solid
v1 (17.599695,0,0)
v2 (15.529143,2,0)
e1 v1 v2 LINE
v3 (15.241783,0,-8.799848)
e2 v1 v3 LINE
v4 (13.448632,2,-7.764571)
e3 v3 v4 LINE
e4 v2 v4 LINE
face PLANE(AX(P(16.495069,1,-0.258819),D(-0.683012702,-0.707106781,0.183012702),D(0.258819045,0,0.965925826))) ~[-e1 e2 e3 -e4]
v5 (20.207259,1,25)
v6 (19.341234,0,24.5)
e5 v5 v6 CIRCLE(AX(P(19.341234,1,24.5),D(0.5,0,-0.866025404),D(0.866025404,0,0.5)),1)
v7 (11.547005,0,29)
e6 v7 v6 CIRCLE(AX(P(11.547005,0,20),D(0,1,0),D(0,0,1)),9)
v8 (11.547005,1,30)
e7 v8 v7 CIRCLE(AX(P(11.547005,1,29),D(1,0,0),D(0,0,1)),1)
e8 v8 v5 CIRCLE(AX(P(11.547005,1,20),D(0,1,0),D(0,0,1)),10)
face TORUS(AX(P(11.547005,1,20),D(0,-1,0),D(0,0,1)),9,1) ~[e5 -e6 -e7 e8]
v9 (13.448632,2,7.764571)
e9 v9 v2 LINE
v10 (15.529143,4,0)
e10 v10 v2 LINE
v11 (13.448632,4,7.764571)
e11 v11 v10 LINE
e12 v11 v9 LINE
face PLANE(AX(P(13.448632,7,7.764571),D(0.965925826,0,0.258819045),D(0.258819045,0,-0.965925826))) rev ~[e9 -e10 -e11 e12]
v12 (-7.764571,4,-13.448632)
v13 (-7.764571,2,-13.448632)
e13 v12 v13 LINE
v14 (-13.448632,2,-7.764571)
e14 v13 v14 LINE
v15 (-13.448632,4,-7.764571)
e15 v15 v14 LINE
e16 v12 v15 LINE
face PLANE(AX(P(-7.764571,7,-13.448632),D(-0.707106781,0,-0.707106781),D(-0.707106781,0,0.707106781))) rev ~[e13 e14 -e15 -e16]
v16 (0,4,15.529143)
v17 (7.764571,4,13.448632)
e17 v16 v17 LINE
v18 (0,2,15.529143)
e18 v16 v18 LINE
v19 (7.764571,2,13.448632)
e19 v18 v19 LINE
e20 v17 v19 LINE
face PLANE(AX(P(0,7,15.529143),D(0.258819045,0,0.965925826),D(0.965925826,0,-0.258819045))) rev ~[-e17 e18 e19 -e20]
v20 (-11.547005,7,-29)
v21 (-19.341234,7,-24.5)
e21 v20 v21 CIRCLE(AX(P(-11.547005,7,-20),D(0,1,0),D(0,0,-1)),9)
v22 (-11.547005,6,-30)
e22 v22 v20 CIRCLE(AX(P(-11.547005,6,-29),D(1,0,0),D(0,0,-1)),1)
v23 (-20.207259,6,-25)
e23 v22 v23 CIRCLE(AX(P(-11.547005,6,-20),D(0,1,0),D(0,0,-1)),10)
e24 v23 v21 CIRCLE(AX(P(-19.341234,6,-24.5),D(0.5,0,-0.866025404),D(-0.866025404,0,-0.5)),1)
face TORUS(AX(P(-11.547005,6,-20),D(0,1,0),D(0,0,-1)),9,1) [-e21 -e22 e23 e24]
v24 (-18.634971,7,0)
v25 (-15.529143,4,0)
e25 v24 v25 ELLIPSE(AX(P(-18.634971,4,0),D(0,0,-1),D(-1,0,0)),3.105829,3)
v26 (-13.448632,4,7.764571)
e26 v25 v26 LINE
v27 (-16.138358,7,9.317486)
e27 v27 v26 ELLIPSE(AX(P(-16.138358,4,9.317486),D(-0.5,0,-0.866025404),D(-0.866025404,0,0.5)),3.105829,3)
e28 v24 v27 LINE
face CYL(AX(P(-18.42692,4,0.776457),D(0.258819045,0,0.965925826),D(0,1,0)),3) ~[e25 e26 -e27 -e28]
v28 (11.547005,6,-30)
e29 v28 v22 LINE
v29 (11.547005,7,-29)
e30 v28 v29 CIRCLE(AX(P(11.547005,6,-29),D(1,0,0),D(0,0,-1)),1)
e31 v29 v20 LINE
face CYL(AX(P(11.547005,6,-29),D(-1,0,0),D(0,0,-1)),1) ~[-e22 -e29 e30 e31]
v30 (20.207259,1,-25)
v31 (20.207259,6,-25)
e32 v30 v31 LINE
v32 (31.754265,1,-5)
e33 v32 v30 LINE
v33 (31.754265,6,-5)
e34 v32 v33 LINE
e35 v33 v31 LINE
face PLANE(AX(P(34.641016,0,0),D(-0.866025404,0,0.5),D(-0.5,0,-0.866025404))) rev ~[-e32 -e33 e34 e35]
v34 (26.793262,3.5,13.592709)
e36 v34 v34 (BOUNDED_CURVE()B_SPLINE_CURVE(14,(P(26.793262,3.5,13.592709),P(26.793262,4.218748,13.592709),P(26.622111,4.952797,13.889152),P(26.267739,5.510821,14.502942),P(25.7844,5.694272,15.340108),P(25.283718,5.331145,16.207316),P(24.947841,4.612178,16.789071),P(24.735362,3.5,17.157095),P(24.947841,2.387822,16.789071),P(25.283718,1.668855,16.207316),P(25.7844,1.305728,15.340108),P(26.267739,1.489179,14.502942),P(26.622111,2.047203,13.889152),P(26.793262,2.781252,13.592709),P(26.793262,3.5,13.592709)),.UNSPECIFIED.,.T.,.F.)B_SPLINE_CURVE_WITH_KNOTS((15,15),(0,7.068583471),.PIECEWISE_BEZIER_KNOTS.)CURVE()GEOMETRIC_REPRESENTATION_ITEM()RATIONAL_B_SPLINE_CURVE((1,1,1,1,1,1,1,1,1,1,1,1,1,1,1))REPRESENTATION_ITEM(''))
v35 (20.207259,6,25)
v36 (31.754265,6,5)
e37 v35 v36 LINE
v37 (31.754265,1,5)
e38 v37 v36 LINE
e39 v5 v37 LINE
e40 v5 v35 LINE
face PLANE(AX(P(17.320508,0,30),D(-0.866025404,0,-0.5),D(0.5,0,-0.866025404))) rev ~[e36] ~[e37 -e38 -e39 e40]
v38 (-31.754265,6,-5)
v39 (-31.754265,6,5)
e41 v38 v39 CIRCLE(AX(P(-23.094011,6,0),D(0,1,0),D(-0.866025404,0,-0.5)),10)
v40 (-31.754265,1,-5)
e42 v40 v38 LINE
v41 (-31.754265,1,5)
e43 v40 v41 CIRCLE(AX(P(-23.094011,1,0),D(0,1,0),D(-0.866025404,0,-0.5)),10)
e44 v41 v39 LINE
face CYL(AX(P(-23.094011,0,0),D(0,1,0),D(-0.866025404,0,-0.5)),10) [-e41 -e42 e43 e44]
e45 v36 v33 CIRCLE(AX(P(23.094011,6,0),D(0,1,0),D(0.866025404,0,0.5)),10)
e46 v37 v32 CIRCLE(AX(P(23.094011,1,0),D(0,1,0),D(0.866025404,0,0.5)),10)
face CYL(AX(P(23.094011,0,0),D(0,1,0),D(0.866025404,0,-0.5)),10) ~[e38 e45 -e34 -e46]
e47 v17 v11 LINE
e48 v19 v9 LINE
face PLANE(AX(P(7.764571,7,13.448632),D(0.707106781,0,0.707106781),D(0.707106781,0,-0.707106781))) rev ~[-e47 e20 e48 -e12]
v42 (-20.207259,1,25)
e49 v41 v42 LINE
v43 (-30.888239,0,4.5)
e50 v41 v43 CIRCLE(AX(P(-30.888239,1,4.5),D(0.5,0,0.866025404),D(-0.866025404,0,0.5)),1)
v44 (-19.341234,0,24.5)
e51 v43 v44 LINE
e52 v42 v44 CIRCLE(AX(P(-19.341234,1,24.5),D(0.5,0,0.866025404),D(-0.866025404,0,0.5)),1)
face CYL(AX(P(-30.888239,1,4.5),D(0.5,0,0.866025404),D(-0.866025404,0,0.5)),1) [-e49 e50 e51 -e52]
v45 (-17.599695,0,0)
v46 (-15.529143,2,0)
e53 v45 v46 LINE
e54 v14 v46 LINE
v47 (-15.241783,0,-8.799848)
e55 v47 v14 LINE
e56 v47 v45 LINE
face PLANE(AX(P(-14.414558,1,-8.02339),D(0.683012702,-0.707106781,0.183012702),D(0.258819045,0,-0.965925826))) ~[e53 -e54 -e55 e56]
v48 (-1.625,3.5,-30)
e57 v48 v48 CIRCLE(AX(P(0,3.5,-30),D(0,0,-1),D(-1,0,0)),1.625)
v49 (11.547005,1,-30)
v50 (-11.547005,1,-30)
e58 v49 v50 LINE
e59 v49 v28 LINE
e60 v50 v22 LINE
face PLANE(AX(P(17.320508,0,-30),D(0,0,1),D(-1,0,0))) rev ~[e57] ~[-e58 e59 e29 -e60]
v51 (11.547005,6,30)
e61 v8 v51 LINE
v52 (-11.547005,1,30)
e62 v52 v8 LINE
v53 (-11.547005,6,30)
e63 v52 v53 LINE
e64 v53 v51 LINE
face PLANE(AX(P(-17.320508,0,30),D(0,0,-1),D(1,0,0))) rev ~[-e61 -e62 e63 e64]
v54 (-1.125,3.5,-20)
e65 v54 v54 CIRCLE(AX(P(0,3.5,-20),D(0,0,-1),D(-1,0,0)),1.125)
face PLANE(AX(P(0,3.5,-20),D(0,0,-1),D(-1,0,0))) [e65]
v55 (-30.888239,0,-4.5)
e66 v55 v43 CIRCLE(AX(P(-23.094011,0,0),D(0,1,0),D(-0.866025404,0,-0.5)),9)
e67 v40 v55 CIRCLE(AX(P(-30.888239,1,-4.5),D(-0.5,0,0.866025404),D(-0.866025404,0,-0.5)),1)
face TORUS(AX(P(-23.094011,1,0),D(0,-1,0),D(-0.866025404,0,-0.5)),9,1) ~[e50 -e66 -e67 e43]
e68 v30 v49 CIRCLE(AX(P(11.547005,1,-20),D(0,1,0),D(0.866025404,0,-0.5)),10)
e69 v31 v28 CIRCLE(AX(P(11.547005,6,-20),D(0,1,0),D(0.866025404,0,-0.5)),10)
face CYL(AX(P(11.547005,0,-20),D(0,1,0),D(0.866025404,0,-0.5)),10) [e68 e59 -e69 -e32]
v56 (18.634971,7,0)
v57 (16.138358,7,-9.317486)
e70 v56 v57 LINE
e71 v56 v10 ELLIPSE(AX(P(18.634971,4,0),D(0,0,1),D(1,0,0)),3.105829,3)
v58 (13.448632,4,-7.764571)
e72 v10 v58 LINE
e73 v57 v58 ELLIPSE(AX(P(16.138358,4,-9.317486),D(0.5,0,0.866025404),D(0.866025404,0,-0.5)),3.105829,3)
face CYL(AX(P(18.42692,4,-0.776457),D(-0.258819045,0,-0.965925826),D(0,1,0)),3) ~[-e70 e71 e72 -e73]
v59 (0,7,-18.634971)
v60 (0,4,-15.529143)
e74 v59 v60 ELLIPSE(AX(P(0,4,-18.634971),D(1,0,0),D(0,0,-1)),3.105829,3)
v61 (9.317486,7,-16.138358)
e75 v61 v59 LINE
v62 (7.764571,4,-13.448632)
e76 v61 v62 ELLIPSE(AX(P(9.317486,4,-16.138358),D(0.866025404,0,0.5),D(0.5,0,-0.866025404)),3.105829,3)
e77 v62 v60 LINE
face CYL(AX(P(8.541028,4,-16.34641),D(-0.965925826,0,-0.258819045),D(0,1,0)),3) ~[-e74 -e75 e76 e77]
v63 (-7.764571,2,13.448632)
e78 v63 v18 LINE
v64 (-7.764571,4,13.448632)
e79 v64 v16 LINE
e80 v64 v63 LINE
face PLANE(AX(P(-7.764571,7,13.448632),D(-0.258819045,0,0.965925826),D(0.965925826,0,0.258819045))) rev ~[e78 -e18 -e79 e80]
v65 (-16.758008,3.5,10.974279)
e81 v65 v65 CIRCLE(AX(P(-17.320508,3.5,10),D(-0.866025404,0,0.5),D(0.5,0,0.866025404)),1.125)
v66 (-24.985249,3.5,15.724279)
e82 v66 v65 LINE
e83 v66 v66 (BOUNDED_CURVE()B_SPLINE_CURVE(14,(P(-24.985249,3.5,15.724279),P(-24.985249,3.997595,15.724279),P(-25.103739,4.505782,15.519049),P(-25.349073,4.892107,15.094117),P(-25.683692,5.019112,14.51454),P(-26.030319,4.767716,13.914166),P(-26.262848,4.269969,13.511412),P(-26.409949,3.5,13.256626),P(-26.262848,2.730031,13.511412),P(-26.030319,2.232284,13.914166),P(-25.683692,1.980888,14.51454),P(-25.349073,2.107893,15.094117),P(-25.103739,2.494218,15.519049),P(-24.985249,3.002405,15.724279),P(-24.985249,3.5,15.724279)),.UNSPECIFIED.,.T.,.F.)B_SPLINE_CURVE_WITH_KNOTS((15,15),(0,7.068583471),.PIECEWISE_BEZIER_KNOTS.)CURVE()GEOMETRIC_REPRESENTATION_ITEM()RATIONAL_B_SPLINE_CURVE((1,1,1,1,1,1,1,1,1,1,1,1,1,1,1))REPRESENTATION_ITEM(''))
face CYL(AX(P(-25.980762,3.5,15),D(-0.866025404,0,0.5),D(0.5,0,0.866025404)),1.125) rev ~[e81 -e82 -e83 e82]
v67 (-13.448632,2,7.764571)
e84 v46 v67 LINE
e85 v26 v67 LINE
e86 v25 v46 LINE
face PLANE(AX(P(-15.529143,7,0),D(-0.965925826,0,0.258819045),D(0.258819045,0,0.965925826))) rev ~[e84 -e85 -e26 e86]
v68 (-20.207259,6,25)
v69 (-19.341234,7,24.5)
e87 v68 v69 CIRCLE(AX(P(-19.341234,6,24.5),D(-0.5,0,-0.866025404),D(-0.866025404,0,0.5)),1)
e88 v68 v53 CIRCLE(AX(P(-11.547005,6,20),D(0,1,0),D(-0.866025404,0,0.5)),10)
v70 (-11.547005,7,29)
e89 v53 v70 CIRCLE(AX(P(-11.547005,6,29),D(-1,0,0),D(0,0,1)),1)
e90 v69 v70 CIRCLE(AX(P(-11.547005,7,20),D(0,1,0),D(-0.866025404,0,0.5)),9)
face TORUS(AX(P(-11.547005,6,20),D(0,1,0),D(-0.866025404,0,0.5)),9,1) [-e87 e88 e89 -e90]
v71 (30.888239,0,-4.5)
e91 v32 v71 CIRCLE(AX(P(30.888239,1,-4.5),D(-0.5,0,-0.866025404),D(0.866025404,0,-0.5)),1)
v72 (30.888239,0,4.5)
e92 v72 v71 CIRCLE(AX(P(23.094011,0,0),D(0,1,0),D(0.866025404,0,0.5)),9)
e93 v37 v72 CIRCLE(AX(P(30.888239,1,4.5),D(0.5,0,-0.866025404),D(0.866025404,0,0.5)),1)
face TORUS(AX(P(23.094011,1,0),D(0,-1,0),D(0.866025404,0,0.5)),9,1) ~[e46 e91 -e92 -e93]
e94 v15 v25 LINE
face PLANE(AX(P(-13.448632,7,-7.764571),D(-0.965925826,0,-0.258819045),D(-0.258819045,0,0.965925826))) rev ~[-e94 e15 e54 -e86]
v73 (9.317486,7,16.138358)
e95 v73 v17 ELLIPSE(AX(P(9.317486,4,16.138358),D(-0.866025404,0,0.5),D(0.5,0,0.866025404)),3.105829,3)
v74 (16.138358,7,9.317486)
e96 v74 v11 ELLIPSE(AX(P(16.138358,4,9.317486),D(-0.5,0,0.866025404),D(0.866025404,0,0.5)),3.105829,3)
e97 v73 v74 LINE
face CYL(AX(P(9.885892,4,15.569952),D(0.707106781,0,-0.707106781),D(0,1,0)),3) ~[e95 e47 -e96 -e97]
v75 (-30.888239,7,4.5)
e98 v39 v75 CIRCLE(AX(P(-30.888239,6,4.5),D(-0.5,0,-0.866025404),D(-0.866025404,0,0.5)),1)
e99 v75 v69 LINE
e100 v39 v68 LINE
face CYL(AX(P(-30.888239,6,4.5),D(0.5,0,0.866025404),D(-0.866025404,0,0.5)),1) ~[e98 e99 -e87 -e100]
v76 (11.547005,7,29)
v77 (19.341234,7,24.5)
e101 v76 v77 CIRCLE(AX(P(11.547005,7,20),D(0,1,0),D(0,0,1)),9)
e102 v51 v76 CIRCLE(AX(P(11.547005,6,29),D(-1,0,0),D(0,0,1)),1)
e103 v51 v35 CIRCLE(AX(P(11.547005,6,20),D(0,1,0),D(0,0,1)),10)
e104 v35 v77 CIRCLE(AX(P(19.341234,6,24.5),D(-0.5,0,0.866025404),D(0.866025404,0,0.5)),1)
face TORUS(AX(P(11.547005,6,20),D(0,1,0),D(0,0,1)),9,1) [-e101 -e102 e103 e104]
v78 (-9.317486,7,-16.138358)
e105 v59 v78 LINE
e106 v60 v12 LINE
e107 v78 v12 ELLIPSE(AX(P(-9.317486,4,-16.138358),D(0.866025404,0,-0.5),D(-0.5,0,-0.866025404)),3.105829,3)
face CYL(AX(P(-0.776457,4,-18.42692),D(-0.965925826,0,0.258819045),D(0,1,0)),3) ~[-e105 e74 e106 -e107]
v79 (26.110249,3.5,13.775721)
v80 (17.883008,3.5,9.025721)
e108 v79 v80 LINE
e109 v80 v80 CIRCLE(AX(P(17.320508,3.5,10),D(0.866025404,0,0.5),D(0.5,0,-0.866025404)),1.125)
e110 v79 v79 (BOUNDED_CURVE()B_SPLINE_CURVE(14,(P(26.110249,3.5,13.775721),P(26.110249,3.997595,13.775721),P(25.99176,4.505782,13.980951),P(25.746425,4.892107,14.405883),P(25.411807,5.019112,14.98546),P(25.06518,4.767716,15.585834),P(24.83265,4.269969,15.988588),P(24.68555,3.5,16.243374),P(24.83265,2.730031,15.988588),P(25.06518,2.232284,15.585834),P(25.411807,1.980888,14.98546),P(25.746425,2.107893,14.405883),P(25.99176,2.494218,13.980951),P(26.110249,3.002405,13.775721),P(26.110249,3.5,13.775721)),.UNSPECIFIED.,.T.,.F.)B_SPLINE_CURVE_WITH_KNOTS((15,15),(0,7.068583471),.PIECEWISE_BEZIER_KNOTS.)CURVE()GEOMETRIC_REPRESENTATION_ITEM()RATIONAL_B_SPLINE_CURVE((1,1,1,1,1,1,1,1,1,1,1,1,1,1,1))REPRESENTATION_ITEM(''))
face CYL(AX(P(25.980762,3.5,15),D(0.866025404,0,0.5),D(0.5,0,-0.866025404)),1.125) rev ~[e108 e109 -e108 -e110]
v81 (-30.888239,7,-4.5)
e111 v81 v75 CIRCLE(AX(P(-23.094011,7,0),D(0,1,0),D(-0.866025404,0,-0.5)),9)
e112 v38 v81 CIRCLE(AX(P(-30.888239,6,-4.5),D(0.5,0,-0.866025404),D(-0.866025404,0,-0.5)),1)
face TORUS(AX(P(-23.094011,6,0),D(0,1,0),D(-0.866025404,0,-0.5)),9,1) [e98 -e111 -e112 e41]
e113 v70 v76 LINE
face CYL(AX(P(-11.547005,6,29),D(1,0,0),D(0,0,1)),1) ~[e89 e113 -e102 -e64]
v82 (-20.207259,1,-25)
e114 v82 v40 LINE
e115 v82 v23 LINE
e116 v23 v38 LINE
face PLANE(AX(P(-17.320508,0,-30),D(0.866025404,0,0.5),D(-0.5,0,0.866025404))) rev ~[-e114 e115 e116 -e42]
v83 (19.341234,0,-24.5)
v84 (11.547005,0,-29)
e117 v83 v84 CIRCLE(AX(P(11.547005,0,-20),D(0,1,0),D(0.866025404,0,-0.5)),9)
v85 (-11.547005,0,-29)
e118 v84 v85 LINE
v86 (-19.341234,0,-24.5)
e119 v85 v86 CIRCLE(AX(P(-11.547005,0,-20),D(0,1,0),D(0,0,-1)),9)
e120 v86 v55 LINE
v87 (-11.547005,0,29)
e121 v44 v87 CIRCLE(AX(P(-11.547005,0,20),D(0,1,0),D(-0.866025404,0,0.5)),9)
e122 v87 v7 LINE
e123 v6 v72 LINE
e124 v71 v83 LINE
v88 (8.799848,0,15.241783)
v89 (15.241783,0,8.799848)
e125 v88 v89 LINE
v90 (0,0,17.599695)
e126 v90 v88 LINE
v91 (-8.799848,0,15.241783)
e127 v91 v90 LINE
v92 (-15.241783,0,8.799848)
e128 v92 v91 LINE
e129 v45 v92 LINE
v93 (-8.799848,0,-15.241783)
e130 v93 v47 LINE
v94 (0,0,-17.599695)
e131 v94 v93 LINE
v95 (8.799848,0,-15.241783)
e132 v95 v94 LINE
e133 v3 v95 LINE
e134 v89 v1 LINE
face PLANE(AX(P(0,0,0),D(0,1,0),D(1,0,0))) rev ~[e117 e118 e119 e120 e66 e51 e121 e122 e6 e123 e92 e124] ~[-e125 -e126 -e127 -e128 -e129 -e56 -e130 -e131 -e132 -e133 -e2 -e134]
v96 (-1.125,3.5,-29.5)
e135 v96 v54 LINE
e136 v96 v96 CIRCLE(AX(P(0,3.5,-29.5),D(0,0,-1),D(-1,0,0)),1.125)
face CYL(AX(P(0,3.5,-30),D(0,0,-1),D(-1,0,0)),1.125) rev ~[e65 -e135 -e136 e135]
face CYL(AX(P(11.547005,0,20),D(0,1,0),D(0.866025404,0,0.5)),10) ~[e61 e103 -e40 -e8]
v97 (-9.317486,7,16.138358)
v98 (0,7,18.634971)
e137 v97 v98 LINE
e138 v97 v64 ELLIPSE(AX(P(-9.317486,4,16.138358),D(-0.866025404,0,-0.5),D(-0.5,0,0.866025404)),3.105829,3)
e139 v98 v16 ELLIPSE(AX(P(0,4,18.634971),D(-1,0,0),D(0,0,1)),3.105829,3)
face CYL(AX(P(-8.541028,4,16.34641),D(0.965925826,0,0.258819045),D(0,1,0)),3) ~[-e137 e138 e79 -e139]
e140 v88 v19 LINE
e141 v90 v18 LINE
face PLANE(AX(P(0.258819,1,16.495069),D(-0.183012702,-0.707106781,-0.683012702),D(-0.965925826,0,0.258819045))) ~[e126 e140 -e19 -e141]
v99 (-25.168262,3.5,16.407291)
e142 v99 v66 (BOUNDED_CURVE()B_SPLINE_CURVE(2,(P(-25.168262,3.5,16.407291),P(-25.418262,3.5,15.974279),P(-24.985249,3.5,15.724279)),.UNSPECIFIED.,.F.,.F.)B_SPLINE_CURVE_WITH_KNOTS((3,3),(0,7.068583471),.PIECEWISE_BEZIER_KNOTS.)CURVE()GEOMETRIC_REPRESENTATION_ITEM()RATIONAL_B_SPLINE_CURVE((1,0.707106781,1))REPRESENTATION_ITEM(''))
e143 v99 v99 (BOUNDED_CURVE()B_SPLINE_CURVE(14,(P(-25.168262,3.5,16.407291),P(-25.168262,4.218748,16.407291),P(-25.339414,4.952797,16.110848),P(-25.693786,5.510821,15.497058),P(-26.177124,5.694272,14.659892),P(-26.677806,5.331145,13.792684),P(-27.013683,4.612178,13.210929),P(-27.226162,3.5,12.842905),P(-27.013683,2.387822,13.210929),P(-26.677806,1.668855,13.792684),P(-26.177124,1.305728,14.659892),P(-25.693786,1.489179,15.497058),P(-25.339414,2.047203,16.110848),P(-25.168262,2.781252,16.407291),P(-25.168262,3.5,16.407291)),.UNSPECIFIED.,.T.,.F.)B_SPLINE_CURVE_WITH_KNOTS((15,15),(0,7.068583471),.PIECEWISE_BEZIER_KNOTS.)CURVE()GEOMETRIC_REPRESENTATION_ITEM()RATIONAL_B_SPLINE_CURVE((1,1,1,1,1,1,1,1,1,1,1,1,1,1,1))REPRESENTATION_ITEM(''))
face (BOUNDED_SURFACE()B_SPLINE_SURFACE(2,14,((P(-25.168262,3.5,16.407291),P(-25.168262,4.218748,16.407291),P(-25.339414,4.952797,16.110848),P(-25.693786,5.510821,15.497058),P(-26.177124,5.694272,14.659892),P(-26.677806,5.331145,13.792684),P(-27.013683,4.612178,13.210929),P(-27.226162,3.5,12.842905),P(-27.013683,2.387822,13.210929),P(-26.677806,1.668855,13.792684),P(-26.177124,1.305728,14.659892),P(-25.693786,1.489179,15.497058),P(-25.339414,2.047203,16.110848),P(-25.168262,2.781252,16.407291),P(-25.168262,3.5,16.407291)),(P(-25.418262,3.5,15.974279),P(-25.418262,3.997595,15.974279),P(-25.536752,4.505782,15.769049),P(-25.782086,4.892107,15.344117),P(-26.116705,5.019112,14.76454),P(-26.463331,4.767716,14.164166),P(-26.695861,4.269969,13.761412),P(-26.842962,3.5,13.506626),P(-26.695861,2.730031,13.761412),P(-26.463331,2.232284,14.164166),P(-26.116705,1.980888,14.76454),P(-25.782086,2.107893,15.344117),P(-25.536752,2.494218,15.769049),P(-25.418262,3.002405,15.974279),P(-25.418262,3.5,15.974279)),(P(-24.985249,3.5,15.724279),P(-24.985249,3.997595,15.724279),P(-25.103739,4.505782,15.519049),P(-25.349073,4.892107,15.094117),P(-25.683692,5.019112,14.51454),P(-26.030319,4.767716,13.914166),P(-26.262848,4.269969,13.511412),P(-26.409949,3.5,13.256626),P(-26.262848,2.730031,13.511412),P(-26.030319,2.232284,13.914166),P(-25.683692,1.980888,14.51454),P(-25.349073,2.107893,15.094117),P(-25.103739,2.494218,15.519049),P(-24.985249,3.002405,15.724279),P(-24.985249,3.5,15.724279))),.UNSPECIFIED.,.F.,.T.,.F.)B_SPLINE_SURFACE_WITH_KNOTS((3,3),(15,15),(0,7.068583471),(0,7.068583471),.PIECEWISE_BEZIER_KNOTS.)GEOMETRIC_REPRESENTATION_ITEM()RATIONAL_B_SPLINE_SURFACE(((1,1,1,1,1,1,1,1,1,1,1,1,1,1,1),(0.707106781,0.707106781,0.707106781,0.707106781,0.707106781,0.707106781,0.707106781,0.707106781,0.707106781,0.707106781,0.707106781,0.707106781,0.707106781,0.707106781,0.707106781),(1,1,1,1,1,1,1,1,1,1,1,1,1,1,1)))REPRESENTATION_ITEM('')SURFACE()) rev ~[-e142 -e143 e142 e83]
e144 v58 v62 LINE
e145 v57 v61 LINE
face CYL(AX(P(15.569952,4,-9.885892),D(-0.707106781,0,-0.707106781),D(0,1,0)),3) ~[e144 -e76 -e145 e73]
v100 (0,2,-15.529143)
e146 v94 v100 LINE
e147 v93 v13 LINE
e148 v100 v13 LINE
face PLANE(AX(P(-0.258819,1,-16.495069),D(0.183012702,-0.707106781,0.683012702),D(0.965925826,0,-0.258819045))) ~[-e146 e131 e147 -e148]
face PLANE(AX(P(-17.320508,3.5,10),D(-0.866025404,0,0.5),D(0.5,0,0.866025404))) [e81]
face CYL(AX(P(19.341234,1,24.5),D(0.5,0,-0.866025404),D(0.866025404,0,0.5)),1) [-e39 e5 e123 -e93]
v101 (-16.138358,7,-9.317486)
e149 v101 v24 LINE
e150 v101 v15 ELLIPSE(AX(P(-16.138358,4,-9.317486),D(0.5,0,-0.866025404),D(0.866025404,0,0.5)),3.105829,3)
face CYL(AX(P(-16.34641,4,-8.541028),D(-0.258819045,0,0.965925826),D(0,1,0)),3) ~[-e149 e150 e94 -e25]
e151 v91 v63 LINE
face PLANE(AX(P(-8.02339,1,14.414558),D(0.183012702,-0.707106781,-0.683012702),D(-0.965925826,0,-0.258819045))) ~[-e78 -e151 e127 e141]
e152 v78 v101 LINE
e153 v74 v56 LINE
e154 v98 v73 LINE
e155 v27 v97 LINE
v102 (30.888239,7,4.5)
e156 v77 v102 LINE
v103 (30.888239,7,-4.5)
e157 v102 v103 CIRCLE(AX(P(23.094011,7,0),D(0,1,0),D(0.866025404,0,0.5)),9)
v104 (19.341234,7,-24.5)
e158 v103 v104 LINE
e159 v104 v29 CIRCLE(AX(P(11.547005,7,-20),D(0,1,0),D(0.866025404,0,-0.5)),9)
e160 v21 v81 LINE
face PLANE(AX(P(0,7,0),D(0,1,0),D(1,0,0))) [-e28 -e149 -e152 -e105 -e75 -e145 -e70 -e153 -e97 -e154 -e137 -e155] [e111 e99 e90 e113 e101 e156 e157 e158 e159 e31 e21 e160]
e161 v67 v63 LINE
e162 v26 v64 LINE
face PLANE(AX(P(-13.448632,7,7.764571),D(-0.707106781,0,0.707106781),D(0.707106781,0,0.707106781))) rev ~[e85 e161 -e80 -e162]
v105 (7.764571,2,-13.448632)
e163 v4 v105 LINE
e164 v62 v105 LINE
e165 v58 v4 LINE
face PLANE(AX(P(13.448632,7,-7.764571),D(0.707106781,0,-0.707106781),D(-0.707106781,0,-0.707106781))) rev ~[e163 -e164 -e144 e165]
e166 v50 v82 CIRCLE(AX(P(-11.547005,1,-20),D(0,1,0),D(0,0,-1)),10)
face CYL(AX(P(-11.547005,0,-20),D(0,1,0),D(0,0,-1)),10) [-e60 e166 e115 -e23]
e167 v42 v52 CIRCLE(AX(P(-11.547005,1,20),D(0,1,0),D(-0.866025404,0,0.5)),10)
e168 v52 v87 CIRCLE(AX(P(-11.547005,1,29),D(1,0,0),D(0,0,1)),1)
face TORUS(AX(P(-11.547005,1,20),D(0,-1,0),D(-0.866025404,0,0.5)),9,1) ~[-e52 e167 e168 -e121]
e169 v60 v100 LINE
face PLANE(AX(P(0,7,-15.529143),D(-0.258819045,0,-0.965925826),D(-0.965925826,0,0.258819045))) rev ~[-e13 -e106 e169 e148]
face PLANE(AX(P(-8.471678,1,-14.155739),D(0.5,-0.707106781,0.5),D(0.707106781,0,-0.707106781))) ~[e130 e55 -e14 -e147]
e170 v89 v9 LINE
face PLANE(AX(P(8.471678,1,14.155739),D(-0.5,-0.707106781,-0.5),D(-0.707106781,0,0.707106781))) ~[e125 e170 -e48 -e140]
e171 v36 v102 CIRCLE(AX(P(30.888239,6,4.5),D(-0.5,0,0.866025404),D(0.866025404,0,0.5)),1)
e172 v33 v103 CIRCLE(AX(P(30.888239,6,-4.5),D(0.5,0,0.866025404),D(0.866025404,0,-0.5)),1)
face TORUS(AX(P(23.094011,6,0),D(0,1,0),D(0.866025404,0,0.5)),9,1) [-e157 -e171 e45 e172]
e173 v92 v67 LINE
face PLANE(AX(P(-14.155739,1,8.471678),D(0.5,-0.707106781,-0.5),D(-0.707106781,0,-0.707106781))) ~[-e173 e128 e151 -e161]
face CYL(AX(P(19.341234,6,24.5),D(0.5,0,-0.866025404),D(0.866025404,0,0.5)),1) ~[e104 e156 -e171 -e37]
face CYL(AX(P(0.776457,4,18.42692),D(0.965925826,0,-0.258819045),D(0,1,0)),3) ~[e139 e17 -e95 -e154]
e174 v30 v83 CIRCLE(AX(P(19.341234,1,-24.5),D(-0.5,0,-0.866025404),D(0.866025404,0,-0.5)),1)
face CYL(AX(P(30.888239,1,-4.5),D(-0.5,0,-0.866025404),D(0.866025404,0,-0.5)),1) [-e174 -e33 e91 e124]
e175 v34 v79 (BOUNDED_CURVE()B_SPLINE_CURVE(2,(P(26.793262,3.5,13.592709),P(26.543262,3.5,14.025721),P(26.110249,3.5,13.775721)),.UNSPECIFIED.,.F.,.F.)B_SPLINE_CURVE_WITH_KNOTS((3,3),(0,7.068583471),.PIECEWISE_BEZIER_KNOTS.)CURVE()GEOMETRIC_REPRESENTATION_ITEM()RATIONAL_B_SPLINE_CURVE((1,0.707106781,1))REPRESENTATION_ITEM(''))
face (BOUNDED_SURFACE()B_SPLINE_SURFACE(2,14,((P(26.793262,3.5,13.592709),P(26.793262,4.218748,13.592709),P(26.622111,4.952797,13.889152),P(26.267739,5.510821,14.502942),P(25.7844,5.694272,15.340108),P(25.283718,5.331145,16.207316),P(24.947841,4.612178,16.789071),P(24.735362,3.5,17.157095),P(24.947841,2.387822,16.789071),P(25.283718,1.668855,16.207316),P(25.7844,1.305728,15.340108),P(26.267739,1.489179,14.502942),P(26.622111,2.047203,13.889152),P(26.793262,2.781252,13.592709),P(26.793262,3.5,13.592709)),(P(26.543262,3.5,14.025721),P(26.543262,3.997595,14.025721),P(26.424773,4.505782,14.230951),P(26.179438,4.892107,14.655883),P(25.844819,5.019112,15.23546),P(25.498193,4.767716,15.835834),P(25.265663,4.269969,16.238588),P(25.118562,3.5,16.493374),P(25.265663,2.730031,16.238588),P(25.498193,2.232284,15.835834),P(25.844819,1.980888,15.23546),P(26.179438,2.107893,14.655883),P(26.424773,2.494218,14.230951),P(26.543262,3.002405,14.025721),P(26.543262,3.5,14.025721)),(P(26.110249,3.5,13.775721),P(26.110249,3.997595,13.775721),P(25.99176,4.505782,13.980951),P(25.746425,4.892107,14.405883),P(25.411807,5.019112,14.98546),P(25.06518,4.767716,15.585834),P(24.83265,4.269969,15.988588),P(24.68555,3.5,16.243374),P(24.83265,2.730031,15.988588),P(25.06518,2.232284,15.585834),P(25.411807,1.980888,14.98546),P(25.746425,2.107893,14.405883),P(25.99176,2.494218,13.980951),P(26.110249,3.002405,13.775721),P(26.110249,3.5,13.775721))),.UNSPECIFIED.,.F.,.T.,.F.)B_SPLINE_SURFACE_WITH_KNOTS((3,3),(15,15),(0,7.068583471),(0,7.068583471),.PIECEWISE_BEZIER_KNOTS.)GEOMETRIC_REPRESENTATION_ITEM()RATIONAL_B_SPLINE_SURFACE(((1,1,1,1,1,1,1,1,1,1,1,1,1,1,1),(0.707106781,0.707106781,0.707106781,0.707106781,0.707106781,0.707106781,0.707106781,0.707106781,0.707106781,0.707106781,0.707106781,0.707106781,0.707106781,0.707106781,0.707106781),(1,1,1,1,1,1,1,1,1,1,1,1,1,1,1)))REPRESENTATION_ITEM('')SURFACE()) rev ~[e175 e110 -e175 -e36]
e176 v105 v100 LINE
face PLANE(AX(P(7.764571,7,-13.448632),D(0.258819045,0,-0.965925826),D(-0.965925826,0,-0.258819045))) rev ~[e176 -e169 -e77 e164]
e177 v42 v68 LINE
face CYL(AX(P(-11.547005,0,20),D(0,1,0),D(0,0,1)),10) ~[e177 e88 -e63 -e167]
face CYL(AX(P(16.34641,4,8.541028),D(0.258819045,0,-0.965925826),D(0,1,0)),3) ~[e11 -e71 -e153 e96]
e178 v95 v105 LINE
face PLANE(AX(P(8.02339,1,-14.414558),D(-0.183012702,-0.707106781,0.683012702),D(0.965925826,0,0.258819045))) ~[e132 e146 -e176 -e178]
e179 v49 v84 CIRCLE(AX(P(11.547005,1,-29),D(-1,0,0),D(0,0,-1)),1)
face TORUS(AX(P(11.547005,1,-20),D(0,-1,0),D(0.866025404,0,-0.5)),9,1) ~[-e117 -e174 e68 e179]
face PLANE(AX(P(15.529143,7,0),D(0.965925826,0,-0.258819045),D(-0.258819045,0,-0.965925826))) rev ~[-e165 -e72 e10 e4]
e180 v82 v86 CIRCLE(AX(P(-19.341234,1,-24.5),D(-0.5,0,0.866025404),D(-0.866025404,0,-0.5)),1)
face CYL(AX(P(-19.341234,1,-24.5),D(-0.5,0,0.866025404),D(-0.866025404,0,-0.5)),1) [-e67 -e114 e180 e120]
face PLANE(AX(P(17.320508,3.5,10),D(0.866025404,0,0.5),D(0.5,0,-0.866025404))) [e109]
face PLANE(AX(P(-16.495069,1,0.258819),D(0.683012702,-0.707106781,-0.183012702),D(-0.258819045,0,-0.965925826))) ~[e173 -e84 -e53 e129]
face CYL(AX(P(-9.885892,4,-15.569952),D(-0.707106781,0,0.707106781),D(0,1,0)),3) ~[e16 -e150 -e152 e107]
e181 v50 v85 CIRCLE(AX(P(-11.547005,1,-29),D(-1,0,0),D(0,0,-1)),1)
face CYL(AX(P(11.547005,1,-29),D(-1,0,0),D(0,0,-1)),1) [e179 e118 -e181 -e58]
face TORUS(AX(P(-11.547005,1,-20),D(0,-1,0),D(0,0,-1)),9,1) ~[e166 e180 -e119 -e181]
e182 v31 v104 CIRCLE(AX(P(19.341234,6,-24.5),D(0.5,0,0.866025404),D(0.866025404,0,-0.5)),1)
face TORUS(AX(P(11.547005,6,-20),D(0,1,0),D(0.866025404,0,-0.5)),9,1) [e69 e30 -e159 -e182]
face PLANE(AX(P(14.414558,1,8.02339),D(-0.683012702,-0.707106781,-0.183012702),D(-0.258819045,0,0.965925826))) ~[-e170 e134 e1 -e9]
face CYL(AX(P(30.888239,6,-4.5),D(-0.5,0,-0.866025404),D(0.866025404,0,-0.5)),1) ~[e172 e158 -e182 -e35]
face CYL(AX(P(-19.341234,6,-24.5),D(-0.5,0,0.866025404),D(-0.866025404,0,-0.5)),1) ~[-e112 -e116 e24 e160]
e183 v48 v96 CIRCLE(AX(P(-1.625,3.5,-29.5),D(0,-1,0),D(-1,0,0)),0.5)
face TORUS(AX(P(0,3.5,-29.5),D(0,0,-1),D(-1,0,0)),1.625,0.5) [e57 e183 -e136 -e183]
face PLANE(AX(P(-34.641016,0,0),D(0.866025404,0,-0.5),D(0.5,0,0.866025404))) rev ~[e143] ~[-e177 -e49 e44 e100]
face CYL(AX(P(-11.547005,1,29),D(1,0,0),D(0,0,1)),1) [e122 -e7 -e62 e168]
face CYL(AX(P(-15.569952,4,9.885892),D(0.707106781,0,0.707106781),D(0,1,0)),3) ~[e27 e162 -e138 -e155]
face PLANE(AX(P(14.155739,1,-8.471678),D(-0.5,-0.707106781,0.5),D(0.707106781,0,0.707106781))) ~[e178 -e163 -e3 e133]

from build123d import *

# Parameters (mm, degrees)
SALIENTE_EXTRUIR1_DEPTH = 7
CROQUIS2_R              = 1.125
CORTAR_EXTRUIR1_DEPTH   = 10
CROQUIS4_R              = 1.125
CORTAR_EXTRUIR2_DEPTH   = 10
CROQUIS5_R              = 1.125
CORTAR_EXTRUIR3_DEPTH   = 10
REDONDEO1_R             = 10
REDONDEO2_R             = 0.5
REDONDEO3_R             = 1
CORTAR_EXTRUIR4_DEPTH   = 10
REDONDEO4_R             = 3
REDONDEO5_R             = 1
CHAFL_N1_SIZE           = 2


with BuildPart() as part:
    # Croquis1 → Saliente-Extruir1 (new body)
    with BuildSketch(Plane(origin=(0, 0, 0), x_dir=(1, 0, 0), z_dir=(0, 1, 0))):
        Polygon((34.641016151, 0), (17.320508076, 30), (-17.320508076, 30), (-34.641016151, 0), (-17.320508076, -30), (17.320508076, -30), align=None)
    extrude(amount=SALIENTE_EXTRUIR1_DEPTH)

    # Croquis2 → Cortar-Extruir1 (cut)
    with BuildSketch(Plane(origin=(25.980762114, 0, 15), x_dir=(0.5, 0, -0.866025404), z_dir=(0.866025404, 0, 0.5))):
        with Locations((0, 3.5)):
            Circle(CROQUIS2_R)
    extrude(amount=-CORTAR_EXTRUIR1_DEPTH, mode=Mode.SUBTRACT)

    # Croquis4 → Cortar-Extruir2 (cut)
    with BuildSketch(Plane(origin=(-25.980762114, 0, 15), x_dir=(0.5, 0, 0.866025404), z_dir=(-0.866025404, 0, 0.5))):
        with Locations((0, 3.5)):
            Circle(CROQUIS4_R)
    extrude(amount=-CORTAR_EXTRUIR2_DEPTH, mode=Mode.SUBTRACT)

    # Croquis5 → Cortar-Extruir3 (cut)
    with BuildSketch(Plane(origin=(0, 0, -30), x_dir=(-1, 0, 0), z_dir=(0, 0, -1))):
        with Locations((0, 3.5)):
            Circle(CROQUIS5_R)
    extrude(amount=-CORTAR_EXTRUIR3_DEPTH, mode=Mode.SUBTRACT)

    # Redondeo1
    redondeo1_edges = [part.edges().sort_by_distance(p)[0] for p in [
        (17.320508076, 3.5, 30),
        (-17.320508076, 3.5, 30),
        (-34.641016151, 3.5, 0),
        (-17.320508076, 3.5, -30),
        (17.320508076, 3.5, -30),
        (34.641016151, 3.5, 0),
    ]]
    fillet(redondeo1_edges, radius=REDONDEO1_R)

    # Redondeo2
    redondeo2_edges = [part.edges().sort_by_distance(p)[0] for p in [
        (25.418262114, 3.5, 15.974278579),
        (-26.543262114, 3.5, 14.025721421),
        (1.125, 3.5, -30),
    ]]
    fillet(redondeo2_edges, radius=REDONDEO2_R)

    # Redondeo3
    redondeo3_edges = [part.edges().sort_by_distance(p)[0] for p in [
        (25.980762114, 7, 15),
        (0, 7, 30),
        (25.980762114, 7, -15),
        (0, 7, -30),
        (-25.980762114, 7, -15),
        (-25.980762114, 7, 15),
        (-16.547005384, 7, -28.660254038),
        (-33.094010768, 7, 0),
        (-16.547005384, 7, 28.660254038),
        (16.547005384, 7, -28.660254038),
        (33.094010768, 7, 0),
        (16.547005384, 7, 28.660254038),
    ]]
    fillet(redondeo3_edges, radius=REDONDEO3_R)

    # Croquis6 → Cortar-Extruir4 (cut)
    with BuildSketch(Plane(origin=(0, 7, 0), x_dir=(1, 0, 0), z_dir=(0, 1, 0))):
        Polygon((-15.529142706, 0), (-13.448632083, -7.764571353), (-7.764571353, -13.448632083), (0, -15.529142706), (7.764571353, -13.448632083), (13.448632083, -7.764571353), (15.529142706, 0), (13.448632083, 7.764571353), (7.764571353, 13.448632083), (0, 15.529142706), (-7.764571353, 13.448632083), (-13.448632083, 7.764571353), align=None)
    extrude(amount=-CORTAR_EXTRUIR4_DEPTH, mode=Mode.SUBTRACT)

    # Redondeo4
    redondeo4_edges = [part.edges().sort_by_distance(p)[0] for p in [
        (-14.488887394, 7, -3.882285677),
        (-14.488887394, 7, 3.882285677),
        (-10.606601718, 7, 10.606601718),
        (-3.882285677, 7, 14.488887394),
        (3.882285677, 7, 14.488887394),
        (10.606601718, 7, 10.606601718),
        (14.488887394, 7, 3.882285677),
        (14.488887394, 7, -3.882285677),
        (10.606601718, 7, -10.606601718),
        (3.882285677, 7, -14.488887394),
        (-3.882285677, 7, -14.488887394),
        (-10.606601718, 7, -10.606601718),
    ]]
    fillet(redondeo4_edges, radius=REDONDEO4_R)

    # Redondeo5
    redondeo5_edges = [part.edges().sort_by_distance(p)[0] for p in [
        (25.980762114, 0, 15),
        (0, 0, 30),
        (-25.980762114, 0, 15),
        (-25.980762114, 0, -15),
        (0, 0, -30),
        (25.980762114, 0, -15),
        (-16.547005384, 0, -28.660254038),
        (-33.094010768, 0, 0),
        (-16.547005384, 0, 28.660254038),
        (16.547005384, 0, -28.660254038),
        (33.094010768, 0, 0),
        (16.547005384, 0, 28.660254038),
    ]]
    fillet(redondeo5_edges, radius=REDONDEO5_R)

    # Chaflán1
    chafl_n1_edges = [part.edges().sort_by_distance(p)[0] for p in [
        (-14.488887394, 0, 3.882285677),
        (-10.606601718, 0, 10.606601718),
        (-3.882285677, 0, 14.488887394),
        (3.882285677, 0, 14.488887394),
        (10.606601718, 0, 10.606601718),
        (14.488887394, 0, 3.882285677),
        (14.488887394, 0, -3.882285677),
        (10.606601718, 0, -10.606601718),
        (3.882285677, 0, -14.488887394),
        (-3.882285677, 0, -14.488887394),
        (-10.606601718, 0, -10.606601718),
        (-14.488887394, 0, -3.882285677),
    ]]
    chamfer(chafl_n1_edges, length=CHAFL_N1_SIZE)


solid = part.part
